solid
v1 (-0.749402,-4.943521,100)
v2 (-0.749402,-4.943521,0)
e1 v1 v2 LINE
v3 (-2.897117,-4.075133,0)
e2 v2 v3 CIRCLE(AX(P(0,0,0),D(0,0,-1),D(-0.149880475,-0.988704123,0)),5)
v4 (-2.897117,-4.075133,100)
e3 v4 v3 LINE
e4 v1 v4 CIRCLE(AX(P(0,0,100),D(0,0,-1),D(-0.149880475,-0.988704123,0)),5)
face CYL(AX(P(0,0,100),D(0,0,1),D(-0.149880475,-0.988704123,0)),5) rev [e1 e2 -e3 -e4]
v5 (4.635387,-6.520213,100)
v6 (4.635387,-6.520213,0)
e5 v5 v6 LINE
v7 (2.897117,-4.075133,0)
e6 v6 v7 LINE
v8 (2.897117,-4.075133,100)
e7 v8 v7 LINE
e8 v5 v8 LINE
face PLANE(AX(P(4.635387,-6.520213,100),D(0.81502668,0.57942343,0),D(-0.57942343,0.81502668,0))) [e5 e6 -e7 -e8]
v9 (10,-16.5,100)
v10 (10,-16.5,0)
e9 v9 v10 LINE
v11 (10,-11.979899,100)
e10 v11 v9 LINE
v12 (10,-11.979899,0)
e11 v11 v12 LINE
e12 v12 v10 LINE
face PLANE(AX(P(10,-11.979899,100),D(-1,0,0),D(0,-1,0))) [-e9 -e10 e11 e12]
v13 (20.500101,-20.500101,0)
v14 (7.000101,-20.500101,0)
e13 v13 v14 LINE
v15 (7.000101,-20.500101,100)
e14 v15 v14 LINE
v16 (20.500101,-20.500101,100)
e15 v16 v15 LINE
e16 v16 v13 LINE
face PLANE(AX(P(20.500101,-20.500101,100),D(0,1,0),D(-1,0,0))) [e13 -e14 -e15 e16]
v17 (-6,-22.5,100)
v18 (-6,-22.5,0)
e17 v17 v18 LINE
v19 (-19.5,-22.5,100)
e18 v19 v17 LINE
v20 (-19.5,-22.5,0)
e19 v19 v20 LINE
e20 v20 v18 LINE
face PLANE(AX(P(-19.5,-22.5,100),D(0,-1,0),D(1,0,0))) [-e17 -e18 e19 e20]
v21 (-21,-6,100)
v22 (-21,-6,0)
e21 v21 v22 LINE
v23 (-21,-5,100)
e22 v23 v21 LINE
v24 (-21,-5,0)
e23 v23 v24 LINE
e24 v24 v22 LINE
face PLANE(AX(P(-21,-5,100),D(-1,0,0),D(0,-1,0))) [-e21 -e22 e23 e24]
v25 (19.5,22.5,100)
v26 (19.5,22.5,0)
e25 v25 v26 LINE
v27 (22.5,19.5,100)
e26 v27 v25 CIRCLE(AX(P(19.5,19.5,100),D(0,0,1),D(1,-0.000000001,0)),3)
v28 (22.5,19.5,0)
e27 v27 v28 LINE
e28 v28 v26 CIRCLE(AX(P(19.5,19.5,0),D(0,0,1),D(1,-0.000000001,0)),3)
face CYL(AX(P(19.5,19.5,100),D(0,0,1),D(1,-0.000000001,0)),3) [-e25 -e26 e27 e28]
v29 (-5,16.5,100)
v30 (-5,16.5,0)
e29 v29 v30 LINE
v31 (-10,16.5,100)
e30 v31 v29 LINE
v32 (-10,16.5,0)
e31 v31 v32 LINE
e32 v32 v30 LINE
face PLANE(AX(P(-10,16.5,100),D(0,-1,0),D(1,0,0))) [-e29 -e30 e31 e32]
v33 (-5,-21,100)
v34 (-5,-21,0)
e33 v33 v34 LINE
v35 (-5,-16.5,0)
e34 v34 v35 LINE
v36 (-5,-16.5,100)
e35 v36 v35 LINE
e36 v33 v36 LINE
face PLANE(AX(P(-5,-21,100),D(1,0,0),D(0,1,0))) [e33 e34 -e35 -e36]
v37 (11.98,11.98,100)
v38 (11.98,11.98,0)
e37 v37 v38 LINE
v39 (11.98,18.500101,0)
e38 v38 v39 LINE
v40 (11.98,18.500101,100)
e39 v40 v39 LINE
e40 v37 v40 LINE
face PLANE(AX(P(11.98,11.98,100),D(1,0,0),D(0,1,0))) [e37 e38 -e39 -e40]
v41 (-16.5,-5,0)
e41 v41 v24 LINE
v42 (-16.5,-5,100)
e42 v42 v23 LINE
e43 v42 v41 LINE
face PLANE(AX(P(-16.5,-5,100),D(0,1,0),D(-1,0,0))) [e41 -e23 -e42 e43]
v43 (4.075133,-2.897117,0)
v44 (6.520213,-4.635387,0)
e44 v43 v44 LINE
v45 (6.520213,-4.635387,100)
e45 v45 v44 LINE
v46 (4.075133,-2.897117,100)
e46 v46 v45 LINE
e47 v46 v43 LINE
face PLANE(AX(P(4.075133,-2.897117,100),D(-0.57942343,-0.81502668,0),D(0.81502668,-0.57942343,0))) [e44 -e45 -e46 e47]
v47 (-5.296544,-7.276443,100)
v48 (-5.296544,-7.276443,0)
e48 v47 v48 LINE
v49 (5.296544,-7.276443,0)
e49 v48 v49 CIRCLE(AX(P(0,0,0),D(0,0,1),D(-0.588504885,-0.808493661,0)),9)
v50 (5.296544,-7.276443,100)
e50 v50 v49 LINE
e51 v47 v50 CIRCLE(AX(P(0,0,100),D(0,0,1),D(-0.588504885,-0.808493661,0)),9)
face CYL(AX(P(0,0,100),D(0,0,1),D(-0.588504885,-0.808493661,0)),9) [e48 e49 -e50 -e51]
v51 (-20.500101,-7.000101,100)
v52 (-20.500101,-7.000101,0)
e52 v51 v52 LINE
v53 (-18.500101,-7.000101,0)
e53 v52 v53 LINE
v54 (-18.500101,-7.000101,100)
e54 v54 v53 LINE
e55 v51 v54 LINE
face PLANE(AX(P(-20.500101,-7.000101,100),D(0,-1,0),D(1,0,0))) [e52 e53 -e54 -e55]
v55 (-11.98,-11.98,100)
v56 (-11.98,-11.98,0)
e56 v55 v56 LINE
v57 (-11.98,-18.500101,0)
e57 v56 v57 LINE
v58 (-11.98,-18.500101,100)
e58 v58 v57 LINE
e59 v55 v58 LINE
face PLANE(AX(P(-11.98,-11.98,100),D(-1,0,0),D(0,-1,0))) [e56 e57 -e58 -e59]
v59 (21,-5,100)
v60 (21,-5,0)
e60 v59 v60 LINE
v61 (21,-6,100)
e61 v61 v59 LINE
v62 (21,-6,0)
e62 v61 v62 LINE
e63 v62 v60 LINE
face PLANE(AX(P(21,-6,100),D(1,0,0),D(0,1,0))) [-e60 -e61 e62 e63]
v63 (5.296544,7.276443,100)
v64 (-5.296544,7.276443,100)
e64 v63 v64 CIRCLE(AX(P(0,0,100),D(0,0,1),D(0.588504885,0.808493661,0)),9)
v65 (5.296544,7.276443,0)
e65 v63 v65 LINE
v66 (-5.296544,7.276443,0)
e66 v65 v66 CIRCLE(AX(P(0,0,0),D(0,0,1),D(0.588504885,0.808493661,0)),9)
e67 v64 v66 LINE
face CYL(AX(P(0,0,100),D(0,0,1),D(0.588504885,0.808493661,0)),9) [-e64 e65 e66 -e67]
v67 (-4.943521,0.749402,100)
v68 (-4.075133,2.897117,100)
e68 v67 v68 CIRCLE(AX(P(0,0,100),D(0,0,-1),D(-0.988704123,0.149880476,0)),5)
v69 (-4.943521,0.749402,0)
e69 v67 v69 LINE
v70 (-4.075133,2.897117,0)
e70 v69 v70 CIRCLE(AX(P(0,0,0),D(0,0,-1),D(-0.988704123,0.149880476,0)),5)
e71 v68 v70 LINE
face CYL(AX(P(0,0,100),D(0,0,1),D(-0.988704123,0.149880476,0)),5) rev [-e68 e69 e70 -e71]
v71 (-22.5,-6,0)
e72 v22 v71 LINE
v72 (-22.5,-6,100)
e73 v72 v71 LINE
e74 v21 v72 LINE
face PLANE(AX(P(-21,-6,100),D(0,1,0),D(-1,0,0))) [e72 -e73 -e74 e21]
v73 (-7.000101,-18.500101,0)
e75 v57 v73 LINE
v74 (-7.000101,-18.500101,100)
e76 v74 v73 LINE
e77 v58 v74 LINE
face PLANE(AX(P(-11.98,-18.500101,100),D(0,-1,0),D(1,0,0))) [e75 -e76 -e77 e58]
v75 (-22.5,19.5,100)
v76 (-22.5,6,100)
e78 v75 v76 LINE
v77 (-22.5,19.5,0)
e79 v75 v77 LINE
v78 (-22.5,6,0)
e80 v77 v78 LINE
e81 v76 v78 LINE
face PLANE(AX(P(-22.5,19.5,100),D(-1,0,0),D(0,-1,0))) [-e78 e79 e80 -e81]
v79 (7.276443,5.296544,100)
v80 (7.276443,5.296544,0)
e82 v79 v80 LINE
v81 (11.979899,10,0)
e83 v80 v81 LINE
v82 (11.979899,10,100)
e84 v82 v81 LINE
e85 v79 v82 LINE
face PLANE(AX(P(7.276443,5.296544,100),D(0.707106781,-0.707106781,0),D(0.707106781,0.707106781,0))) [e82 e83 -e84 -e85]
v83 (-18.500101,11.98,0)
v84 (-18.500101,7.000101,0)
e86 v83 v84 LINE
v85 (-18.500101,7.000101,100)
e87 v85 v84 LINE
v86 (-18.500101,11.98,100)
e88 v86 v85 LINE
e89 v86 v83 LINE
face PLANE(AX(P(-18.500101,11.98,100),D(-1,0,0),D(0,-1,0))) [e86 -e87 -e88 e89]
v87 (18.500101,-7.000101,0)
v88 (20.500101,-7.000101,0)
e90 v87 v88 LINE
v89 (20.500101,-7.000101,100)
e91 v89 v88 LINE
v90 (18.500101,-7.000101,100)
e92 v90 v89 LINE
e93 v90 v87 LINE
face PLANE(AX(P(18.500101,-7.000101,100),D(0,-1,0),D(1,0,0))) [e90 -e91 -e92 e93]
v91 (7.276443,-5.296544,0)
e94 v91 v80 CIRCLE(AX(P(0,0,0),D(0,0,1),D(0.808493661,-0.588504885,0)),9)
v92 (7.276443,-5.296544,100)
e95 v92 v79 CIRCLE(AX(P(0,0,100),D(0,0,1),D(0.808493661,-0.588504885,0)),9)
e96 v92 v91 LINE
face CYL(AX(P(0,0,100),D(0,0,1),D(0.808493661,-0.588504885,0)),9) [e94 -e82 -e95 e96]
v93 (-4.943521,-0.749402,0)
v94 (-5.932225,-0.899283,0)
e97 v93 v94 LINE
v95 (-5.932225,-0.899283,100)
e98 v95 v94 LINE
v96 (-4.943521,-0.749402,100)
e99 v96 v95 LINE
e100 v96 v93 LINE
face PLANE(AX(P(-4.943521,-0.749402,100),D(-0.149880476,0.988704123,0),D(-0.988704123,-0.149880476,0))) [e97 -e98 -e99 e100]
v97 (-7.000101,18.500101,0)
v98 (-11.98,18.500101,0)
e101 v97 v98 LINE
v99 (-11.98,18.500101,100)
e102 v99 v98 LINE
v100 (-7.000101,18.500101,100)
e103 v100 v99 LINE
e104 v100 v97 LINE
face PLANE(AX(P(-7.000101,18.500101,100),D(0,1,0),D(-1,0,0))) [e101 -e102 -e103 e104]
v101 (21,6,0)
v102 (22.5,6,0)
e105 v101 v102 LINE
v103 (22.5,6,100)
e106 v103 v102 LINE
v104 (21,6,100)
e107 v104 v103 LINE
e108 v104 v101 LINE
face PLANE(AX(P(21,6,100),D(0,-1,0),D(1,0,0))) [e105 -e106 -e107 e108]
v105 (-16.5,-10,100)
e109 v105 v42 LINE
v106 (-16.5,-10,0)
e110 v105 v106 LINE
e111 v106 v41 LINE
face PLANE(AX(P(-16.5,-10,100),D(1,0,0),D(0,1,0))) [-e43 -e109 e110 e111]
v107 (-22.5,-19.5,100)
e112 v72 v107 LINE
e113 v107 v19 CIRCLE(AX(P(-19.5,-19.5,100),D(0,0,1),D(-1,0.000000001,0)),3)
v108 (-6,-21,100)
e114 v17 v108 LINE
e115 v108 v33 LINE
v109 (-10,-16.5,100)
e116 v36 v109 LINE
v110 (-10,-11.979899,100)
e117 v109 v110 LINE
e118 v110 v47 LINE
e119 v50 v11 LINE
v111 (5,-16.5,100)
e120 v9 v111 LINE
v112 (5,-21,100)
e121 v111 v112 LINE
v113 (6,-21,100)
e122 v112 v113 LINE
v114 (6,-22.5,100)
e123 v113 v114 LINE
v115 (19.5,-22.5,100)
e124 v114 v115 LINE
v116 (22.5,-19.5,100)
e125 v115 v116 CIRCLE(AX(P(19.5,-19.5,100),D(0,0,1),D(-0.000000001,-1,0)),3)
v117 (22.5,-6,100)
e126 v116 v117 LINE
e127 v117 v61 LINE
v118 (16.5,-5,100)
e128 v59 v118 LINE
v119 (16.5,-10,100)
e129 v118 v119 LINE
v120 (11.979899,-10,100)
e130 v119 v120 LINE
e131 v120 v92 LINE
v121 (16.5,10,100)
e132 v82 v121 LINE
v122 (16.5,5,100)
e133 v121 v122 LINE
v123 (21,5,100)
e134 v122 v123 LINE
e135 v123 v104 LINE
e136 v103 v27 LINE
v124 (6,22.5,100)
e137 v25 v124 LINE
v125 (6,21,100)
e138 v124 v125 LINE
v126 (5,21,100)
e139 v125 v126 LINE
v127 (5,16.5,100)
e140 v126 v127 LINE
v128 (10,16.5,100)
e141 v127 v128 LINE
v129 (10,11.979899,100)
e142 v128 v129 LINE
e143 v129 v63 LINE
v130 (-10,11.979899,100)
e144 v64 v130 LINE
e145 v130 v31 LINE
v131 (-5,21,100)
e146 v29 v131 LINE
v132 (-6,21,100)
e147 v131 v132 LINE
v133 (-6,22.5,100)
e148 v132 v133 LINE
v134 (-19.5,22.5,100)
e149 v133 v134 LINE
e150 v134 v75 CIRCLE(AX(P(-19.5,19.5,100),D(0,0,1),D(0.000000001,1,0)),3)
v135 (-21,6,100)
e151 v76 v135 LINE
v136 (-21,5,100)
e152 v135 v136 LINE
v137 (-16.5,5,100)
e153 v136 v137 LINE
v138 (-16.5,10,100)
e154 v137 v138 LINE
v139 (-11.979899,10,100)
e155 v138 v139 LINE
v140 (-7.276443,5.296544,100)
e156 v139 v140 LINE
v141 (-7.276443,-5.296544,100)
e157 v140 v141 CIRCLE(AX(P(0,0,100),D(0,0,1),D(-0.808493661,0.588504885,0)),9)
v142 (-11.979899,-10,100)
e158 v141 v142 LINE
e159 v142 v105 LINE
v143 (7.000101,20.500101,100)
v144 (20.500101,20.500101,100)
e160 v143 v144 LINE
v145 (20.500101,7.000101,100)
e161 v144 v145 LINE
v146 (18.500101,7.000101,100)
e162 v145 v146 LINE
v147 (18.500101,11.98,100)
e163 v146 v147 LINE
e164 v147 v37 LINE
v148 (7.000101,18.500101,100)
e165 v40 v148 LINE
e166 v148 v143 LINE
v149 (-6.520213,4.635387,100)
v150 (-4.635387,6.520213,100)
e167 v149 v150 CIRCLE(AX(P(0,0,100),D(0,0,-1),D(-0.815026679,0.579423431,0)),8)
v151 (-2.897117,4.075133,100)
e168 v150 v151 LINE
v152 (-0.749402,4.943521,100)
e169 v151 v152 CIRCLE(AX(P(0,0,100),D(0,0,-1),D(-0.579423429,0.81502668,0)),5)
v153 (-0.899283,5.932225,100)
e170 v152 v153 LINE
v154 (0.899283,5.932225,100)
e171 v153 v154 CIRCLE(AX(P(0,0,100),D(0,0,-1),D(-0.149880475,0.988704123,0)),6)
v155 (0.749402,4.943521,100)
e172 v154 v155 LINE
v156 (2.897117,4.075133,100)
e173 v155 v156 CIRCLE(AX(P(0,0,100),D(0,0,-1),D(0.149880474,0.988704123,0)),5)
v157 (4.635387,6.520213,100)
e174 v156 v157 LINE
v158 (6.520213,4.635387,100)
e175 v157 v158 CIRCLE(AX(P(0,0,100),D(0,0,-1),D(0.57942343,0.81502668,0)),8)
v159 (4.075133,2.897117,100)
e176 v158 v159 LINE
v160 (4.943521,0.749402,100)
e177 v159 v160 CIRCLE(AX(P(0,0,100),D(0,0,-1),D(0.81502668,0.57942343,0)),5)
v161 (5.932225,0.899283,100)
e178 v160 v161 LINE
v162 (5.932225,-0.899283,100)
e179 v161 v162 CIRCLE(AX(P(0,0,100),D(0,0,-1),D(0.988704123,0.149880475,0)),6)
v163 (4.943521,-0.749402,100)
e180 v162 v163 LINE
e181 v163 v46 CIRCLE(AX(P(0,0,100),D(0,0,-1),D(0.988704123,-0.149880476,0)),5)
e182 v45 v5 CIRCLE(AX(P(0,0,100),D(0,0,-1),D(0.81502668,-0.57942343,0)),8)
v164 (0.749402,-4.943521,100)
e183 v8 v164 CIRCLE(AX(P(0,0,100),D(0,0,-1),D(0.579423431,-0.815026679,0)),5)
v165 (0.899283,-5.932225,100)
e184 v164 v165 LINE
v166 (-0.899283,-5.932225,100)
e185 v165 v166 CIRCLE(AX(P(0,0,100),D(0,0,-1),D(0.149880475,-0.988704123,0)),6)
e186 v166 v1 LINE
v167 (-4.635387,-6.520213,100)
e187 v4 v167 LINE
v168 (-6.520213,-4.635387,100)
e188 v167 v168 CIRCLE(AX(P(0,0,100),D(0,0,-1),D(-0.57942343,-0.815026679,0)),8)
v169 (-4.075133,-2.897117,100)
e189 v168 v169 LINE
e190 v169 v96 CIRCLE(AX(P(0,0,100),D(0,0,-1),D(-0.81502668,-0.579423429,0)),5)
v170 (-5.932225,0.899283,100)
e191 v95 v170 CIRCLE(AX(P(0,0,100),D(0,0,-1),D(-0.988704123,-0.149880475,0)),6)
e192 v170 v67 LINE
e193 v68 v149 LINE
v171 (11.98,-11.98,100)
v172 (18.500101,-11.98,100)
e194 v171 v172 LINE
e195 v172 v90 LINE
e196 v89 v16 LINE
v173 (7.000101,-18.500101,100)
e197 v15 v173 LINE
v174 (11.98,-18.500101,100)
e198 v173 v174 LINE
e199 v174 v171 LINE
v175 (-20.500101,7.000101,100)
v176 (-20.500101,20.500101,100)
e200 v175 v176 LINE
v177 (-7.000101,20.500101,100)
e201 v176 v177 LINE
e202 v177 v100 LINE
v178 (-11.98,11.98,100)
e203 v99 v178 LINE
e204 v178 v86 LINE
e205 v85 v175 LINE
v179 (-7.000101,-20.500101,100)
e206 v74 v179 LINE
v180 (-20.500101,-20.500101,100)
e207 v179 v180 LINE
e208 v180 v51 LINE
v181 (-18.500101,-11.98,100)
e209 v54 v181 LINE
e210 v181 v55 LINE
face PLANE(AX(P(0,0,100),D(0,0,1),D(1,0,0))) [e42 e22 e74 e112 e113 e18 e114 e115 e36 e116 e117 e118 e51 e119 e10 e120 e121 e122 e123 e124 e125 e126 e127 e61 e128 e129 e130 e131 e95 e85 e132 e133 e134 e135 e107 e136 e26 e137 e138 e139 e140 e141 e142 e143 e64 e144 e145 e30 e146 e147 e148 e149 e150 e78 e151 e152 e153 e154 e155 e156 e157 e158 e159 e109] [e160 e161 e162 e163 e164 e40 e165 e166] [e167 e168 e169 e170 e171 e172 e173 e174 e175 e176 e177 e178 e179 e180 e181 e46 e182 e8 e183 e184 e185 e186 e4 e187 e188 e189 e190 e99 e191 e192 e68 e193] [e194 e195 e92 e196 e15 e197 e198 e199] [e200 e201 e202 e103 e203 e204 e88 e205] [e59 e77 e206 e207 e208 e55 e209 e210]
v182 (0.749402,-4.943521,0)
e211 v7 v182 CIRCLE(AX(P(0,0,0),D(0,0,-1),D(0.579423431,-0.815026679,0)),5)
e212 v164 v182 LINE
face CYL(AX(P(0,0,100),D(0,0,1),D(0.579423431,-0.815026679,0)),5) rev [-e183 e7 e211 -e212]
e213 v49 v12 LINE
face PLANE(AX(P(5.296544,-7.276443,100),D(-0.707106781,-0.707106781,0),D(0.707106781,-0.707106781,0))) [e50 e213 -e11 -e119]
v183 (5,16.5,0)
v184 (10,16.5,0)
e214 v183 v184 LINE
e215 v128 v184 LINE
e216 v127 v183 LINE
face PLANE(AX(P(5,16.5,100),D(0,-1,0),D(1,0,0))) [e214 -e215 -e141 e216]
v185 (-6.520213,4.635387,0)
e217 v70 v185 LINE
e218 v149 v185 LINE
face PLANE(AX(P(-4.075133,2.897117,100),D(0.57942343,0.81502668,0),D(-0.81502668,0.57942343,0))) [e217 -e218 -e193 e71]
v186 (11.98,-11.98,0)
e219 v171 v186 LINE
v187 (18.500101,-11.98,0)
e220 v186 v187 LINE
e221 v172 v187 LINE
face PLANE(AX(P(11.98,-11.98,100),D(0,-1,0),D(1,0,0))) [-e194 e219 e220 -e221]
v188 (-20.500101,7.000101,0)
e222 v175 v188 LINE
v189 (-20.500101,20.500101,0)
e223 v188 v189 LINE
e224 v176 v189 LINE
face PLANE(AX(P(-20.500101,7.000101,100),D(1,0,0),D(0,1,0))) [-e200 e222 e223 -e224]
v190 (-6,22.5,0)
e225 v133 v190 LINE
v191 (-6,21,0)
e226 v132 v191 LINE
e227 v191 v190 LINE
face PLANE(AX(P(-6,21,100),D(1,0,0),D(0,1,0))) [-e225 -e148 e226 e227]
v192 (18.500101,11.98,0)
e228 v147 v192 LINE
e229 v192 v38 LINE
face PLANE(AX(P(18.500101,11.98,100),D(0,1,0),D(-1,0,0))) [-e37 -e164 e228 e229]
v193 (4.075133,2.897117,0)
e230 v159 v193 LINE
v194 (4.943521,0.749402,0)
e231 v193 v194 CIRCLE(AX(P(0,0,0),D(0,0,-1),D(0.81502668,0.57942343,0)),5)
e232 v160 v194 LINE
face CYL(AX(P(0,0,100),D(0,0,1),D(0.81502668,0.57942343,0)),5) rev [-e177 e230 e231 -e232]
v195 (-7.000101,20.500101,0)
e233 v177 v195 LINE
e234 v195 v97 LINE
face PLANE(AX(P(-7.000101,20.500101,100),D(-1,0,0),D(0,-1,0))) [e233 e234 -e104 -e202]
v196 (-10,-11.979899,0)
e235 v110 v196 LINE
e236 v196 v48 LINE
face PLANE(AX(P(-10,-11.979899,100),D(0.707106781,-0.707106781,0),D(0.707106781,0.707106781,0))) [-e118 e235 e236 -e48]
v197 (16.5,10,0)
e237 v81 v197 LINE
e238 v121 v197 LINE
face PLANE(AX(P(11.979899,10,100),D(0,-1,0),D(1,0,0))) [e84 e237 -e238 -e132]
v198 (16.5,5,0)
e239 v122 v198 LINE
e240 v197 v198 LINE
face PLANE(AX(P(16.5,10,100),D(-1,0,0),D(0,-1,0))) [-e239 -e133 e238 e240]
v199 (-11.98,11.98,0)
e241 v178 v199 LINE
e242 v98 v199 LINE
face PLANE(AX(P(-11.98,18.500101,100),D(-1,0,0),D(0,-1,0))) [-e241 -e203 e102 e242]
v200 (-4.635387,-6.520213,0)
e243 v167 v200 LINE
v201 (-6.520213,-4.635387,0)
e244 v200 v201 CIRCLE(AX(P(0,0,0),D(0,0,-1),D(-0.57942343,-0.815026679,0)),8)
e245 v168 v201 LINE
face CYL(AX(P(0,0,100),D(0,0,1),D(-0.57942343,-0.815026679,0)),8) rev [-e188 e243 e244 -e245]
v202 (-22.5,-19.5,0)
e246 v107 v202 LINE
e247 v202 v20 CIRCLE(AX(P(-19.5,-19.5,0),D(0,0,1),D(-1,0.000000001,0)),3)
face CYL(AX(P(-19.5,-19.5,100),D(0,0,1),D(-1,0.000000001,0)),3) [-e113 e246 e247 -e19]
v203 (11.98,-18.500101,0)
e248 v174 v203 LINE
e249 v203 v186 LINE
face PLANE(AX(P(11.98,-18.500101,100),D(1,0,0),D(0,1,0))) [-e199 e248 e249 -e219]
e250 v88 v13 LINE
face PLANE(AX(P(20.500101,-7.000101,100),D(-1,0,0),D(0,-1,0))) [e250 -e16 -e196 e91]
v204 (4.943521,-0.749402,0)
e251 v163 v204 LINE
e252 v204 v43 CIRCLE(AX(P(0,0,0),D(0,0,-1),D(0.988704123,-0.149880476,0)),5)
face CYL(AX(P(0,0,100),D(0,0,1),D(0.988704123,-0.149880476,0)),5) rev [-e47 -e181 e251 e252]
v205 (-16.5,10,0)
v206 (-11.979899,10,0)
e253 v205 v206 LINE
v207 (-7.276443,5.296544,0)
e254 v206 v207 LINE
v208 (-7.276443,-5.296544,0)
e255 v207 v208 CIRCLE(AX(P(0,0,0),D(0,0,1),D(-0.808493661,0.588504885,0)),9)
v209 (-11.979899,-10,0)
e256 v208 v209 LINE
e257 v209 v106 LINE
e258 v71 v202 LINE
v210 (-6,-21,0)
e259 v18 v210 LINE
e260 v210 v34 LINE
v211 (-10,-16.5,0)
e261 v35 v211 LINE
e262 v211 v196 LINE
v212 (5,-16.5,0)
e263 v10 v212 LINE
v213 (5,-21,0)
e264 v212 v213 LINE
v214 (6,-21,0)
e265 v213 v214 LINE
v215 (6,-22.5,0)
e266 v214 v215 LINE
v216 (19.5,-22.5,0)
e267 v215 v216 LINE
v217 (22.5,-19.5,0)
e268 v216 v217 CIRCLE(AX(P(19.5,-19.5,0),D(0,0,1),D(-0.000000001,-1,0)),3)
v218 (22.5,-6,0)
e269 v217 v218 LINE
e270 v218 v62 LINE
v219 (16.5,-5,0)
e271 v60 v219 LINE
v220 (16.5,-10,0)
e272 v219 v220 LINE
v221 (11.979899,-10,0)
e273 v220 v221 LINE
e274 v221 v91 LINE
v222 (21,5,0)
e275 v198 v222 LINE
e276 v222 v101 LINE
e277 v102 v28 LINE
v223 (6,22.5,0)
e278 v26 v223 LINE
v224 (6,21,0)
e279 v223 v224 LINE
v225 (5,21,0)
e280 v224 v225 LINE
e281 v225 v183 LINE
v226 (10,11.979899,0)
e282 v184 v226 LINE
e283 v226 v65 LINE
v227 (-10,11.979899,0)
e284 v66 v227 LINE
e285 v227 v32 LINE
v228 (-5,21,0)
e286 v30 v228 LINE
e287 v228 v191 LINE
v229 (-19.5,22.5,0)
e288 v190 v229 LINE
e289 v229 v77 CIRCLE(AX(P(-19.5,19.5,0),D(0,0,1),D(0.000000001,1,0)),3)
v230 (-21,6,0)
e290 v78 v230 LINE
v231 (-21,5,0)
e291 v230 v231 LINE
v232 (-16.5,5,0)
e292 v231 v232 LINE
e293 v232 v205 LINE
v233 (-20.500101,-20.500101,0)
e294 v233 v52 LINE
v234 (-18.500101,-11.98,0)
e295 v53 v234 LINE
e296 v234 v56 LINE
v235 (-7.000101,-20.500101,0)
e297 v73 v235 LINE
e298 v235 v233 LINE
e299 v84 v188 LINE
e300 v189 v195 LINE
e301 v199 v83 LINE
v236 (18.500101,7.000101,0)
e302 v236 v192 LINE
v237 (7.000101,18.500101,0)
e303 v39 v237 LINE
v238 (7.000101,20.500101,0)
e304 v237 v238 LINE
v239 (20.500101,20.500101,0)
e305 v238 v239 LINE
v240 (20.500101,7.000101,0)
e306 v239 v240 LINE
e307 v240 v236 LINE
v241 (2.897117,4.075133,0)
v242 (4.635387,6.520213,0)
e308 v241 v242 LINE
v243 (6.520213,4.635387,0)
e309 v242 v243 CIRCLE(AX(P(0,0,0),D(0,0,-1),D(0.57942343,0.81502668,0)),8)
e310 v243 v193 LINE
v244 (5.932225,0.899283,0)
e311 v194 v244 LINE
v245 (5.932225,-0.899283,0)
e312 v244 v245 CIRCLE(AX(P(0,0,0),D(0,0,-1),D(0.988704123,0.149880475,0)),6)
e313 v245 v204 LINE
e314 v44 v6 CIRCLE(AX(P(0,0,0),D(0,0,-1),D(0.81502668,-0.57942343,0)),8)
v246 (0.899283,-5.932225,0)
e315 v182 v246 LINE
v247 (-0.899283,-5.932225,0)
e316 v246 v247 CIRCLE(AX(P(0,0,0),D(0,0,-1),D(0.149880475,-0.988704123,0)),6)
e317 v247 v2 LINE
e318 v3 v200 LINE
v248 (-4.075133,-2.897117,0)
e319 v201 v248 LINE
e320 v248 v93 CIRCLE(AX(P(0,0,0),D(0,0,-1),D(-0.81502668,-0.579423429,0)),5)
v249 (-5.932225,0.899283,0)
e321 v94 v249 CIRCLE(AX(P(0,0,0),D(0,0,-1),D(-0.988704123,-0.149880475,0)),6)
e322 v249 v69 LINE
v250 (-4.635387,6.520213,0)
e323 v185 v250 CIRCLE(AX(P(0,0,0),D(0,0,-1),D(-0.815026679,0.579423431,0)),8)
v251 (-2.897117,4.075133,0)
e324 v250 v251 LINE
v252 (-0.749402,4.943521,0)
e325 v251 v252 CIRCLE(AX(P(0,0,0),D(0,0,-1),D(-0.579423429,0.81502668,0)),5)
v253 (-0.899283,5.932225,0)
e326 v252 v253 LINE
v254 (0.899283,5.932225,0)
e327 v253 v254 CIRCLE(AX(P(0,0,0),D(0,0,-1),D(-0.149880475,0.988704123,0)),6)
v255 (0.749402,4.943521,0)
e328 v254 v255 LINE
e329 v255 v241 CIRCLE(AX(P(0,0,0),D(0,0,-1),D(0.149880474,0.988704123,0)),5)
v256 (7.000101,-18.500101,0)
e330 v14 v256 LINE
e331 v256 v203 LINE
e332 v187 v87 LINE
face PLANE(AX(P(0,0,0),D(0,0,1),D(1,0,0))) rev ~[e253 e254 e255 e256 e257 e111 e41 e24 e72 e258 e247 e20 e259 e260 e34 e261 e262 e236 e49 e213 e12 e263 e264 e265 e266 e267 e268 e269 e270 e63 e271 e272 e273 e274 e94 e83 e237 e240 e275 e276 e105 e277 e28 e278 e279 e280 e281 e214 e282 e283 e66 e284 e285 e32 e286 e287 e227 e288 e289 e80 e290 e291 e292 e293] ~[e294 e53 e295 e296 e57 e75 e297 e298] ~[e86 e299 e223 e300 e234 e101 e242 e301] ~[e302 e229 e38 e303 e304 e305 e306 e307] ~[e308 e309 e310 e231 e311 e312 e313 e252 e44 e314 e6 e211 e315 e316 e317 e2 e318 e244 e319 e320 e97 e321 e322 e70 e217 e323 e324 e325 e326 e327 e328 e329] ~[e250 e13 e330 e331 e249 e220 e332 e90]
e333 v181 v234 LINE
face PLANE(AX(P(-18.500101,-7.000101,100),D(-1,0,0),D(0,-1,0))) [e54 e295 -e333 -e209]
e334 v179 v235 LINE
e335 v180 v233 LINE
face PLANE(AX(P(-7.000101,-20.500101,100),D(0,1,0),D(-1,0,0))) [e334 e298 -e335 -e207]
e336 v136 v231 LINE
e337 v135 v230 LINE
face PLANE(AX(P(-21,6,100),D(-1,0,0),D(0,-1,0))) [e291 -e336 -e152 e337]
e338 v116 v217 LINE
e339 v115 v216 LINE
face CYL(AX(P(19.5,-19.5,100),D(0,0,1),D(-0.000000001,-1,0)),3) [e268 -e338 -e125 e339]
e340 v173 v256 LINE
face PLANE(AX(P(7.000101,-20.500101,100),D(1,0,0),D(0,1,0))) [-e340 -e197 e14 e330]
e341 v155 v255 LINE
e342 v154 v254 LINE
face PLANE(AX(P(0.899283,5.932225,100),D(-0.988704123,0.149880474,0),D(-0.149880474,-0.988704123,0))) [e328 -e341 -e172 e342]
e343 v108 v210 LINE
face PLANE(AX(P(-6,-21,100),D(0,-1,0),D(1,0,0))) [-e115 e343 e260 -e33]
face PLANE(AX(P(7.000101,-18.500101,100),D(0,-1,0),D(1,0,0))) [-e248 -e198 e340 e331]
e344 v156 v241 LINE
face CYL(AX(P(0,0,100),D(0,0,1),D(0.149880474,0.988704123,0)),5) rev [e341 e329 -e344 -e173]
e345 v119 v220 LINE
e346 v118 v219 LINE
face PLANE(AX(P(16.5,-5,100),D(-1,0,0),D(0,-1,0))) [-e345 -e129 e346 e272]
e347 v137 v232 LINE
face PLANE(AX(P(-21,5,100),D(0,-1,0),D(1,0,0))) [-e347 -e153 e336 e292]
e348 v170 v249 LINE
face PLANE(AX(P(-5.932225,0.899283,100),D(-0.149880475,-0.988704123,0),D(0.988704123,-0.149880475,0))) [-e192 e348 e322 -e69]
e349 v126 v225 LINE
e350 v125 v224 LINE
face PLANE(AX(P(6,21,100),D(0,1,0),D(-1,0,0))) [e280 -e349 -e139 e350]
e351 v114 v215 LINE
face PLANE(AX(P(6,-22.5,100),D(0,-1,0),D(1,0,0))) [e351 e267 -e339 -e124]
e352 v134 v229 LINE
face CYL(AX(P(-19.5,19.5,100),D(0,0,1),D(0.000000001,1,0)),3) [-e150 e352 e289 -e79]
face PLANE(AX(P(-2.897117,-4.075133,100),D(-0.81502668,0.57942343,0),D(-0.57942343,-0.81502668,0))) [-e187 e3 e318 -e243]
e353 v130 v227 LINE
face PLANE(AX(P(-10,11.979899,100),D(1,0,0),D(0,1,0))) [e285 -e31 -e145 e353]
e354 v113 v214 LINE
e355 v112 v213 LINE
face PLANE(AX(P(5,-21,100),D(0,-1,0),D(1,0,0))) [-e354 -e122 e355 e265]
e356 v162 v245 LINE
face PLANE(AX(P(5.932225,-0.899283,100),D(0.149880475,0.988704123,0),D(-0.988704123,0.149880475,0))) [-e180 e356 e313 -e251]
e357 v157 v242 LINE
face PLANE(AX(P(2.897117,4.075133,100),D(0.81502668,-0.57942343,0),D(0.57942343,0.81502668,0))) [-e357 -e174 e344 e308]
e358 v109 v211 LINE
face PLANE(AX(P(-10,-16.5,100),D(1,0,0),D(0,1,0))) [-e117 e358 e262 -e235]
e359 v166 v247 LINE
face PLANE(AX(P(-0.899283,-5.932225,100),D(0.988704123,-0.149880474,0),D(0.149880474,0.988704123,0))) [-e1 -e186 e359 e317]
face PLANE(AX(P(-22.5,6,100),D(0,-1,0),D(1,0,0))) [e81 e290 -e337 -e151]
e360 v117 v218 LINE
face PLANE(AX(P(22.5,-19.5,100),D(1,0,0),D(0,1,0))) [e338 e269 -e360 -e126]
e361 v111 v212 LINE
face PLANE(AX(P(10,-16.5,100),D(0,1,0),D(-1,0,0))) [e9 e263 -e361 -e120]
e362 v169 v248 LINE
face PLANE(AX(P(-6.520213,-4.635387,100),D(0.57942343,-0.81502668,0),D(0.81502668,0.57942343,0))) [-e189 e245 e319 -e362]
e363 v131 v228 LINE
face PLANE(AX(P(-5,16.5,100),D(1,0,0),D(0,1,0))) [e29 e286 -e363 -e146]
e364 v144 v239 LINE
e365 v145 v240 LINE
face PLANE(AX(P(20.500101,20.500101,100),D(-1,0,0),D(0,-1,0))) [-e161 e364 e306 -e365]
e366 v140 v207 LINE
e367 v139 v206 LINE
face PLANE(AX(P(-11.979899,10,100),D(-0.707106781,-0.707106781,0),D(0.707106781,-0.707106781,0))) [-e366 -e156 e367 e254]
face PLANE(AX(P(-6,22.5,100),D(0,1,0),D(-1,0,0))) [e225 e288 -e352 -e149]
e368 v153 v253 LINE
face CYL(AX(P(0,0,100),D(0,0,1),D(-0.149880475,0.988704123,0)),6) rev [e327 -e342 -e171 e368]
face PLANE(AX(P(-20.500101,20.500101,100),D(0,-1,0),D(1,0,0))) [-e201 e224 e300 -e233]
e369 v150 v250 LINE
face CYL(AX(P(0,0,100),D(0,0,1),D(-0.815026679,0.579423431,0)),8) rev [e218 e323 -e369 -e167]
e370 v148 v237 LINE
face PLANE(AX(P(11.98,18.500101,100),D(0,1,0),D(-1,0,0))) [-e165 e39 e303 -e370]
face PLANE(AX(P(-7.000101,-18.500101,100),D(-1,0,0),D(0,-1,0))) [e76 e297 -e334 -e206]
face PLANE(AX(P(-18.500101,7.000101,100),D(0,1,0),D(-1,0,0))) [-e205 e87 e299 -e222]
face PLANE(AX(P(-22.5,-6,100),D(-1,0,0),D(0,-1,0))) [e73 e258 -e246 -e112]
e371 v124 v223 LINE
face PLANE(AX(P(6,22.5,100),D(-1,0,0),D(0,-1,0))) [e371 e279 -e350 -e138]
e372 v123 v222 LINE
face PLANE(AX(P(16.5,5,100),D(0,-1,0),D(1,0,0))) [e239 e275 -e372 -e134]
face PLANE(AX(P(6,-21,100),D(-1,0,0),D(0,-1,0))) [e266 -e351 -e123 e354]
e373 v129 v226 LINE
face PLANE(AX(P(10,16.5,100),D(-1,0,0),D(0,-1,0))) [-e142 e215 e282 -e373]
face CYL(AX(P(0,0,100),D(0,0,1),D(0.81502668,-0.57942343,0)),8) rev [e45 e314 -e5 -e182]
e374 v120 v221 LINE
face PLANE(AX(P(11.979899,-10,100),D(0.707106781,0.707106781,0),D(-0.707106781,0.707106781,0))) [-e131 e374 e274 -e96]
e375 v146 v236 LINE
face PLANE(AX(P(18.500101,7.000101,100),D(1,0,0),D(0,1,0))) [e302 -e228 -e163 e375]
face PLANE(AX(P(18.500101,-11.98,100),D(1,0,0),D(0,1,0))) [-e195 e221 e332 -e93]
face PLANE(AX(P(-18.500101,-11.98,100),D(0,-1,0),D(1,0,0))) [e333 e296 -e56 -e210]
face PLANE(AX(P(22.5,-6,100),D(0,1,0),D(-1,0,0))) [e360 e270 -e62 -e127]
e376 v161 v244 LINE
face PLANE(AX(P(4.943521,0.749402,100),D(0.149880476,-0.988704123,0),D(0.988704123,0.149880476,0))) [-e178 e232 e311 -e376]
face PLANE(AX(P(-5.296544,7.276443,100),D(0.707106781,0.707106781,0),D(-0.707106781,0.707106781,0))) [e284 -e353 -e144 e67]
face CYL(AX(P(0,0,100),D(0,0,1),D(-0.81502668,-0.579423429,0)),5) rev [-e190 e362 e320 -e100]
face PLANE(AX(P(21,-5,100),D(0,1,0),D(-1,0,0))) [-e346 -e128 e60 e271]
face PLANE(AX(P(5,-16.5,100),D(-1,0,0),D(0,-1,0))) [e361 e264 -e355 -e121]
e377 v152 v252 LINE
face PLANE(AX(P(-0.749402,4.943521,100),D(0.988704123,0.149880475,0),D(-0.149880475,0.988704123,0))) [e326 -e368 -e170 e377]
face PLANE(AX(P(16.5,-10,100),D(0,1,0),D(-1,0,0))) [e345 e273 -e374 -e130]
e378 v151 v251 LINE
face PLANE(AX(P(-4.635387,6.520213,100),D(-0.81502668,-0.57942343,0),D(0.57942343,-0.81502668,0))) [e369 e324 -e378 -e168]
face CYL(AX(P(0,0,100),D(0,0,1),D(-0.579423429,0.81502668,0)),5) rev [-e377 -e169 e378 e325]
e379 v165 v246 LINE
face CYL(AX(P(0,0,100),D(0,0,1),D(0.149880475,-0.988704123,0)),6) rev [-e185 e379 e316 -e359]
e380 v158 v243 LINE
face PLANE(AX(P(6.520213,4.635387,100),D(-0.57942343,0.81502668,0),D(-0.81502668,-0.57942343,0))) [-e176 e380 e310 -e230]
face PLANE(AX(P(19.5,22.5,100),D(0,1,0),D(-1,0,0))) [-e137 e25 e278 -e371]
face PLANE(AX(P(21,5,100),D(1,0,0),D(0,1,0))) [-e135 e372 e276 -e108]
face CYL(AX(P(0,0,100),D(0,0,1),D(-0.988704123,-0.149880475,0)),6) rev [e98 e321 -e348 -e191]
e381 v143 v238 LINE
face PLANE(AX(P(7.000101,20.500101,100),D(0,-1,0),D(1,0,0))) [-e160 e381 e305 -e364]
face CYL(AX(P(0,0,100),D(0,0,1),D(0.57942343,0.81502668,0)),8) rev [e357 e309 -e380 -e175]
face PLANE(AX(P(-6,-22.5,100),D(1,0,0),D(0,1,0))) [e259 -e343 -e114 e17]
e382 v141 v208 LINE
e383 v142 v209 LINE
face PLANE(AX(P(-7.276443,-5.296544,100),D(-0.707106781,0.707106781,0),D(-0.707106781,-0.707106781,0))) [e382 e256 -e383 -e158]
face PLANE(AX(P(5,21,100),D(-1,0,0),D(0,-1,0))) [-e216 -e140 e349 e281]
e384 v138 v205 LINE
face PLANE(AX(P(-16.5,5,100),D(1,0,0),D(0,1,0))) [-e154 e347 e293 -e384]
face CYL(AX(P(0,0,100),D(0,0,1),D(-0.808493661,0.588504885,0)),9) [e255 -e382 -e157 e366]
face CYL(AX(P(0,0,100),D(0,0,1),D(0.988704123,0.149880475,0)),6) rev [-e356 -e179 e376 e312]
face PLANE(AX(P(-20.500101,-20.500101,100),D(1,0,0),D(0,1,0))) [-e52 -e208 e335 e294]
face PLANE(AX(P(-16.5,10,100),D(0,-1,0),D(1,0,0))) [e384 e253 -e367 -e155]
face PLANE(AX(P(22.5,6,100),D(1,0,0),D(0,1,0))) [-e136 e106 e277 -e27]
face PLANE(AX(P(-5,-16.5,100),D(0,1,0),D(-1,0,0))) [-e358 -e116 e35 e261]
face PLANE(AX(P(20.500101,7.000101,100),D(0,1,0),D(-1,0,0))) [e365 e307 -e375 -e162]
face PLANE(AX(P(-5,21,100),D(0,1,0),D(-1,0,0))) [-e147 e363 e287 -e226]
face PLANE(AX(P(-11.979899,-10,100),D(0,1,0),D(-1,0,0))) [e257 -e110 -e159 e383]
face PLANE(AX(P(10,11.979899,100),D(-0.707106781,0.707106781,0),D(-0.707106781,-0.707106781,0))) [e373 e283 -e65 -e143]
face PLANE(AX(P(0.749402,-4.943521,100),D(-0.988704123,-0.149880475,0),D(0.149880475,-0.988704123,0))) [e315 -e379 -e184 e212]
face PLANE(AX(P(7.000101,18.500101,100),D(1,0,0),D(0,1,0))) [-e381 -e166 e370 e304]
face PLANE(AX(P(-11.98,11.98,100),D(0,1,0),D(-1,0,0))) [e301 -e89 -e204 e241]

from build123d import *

# Parameters (mm, degrees)
Y_KSEKLIK_EKSTR_ZYON1_DEPTH = 100


with BuildPart() as part:
    # Çizim1 → Yükseklik-Ekstrüzyon1 (new body)
    with BuildSketch(Plane.XY.offset(100)):
        with BuildLine():
            Line((5, -21), (6, -21))
            Line((6, -21), (6, -22.5))
            Line((6, -22.5), (19.5, -22.5))
            ThreePointArc((19.5, -22.5), (21.621320344, -21.621320344), (22.5, -19.5))
            Line((22.5, -19.5), (22.5, -6))
            Line((22.5, -6), (21, -6))
            Line((21, -6), (21, -5))
            Line((21, -5), (16.499999999, -5))
            Line((16.499999999, -5), (16.499999999, -10.000000002))
            Line((16.499999999, -10.000000002), (11.979898986, -10.000000002))
            Line((11.979898986, -10.000000002), (7.27644295, -5.296543966))
            ThreePointArc((7.27644295, -5.296543966), (8.999999998, -2e-09), (7.27644295, 5.296543963))
            Line((7.27644295, 5.296543963), (11.979898987, 10))
            Line((11.979898987, 10), (16.499999999, 10))
            Line((16.499999999, 10), (16.499999999, 5))
            Line((16.499999999, 5), (21, 5))
            Line((21, 5), (21, 6))
            Line((21, 6), (22.5, 6))
            Line((22.5, 6), (22.5, 19.5))
            ThreePointArc((22.5, 19.5), (21.621320344, 21.621320344), (19.5, 22.5))
            Line((19.5, 22.5), (6, 22.5))
            Line((6, 22.5), (6, 21))
            Line((6, 21), (5, 21))
            Line((5, 21), (5, 16.499999998))
            Line((5, 16.499999998), (10, 16.499999998))
            Line((10, 16.499999998), (10, 11.979898987))
            Line((10, 11.979898987), (5.296543963, 7.27644295))
            ThreePointArc((5.296543963, 7.27644295), (-2e-09, 8.999999998), (-5.296543966, 7.27644295))
            Line((-5.296543966, 7.27644295), (-10.000000001, 11.979898985))
            Line((-10.000000001, 11.979898985), (-10.000000001, 16.499999998))
            Line((-10.000000001, 16.499999998), (-5, 16.499999998))
            Line((-5, 16.499999998), (-5, 21))
            Line((-5, 21), (-6, 21))
            Line((-6, 21), (-6, 22.5))
            Line((-6, 22.5), (-19.5, 22.5))
            ThreePointArc((-19.5, 22.5), (-21.621320344, 21.621320344), (-22.5, 19.5))
            Line((-22.5, 19.5), (-22.5, 6))
            Line((-22.5, 6), (-21, 6))
            Line((-21, 6), (-21, 5))
            Line((-21, 5), (-16.500000001, 5))
            Line((-16.500000001, 5), (-16.500000001, 10))
            Line((-16.500000001, 10), (-11.979898987, 10))
            Line((-11.979898987, 10), (-7.276442952, 5.296543965))
            ThreePointArc((-7.276442952, 5.296543965), (-9.000000001, -1e-09), (-7.276442953, -5.296543966))
            Line((-7.276442953, -5.296543966), (-11.979898988, -10.000000002))
            Line((-11.979898988, -10.000000002), (-16.500000001, -10.000000002))
            Line((-16.500000001, -10.000000002), (-16.500000001, -5))
            Line((-16.500000001, -5), (-21, -5))
            Line((-21, -5), (-21, -6))
            Line((-21, -6), (-22.5, -6))
            Line((-22.5, -6), (-22.5, -19.5))
            ThreePointArc((-22.5, -19.5), (-21.621320344, -21.621320344), (-19.5, -22.5))
            Line((-19.5, -22.5), (-6, -22.5))
            Line((-6, -22.5), (-6, -21))
            Line((-6, -21), (-5, -21))
            Line((-5, -21), (-5, -16.500000002))
            Line((-5, -16.500000002), (-10.000000001, -16.500000002))
            Line((-10.000000001, -16.500000002), (-10.000000001, -11.979898989))
            Line((-10.000000001, -11.979898989), (-5.296543966, -7.276442954))
            ThreePointArc((-5.296543966, -7.276442954), (0, -9.000000002), (5.296543965, -7.276442952))
            Line((5.296543965, -7.276442952), (10, -11.979898987))
            Line((10, -11.979898987), (10, -16.500000002))
            Line((10, -16.500000002), (5, -16.500000002))
            Line((5, -16.500000002), (5, -21))
        make_face()
        Polygon((-11.98, 18.500101013), (-11.98, 11.98), (-18.500101013, 11.98), (-18.500101013, 7.000101013), (-20.500101013, 7.000101013), (-20.500101013, 20.500101013), (-7.000101013, 20.500101013), (-7.000101013, 18.500101013), align=None, mode=Mode.SUBTRACT)
        Polygon((-18.500101013, -11.98), (-11.98, -11.98), (-11.98, -18.500101013), (-7.000101013, -18.500101013), (-7.000101013, -20.500101013), (-20.500101013, -20.500101013), (-20.500101013, -7.000101013), (-18.500101013, -7.000101013), align=None, mode=Mode.SUBTRACT)
        Polygon((11.98, -18.500101013), (11.98, -11.98), (18.500101013, -11.98), (18.500101013, -7.000101013), (20.500101013, -7.000101013), (20.500101013, -20.500101013), (7.000101013, -20.500101013), (7.000101013, -18.500101013), align=None, mode=Mode.SUBTRACT)
        Polygon((18.500101013, 11.98), (11.98, 11.98), (11.98, 18.500101013), (7.000101013, 18.500101013), (7.000101013, 20.500101013), (20.500101013, 20.500101013), (20.500101013, 7.000101013), (18.500101013, 7.000101013), align=None, mode=Mode.SUBTRACT)
        with BuildLine():
            Line((-6.52021344, -4.635387443), (-4.075133401, -2.897117152))
            ThreePointArc((-4.075133401, -2.897117152), (-4.635428757, -1.874246585), (-4.943520618, -0.749402378))
            Line((-4.943520618, -0.749402378), (-5.932224741, -0.899282854))
            ThreePointArc((-5.932224741, -0.899282854), (-6.000000002, -2e-09), (-5.932224741, 0.89928285))
            Line((-5.932224741, 0.89928285), (-4.943520618, 0.749402375))
            ThreePointArc((-4.943520618, 0.749402375), (-4.635428757, 1.874246582), (-4.0751334, 2.89711715))
            Line((-4.0751334, 2.89711715), (-6.520213439, 4.635387441))
            ThreePointArc((-6.520213439, 4.635387441), (-5.65685425, 5.656854249), (-4.635387441, 6.520213437))
            Line((-4.635387441, 6.520213437), (-2.897117152, 4.075133398))
            ThreePointArc((-2.897117152, 4.075133398), (-1.874246584, 4.635428754), (-0.749402378, 4.943520614))
            Line((-0.749402378, 4.943520614), (-0.899282853, 5.932224737))
            ThreePointArc((-0.899282853, 5.932224737), (-5e-09, 5.999999998), (0.899282844, 5.932224738))
            Line((0.899282844, 5.932224738), (0.74940237, 4.943520615))
            ThreePointArc((0.74940237, 4.943520615), (1.874246579, 4.635428755), (2.897117149, 4.075133397))
            Line((2.897117149, 4.075133397), (4.635387439, 6.520213436))
            ThreePointArc((4.635387439, 6.520213436), (5.656854248, 5.656854248), (6.520213436, 4.635387439))
            Line((6.520213436, 4.635387439), (4.075133397, 2.897117149))
            ThreePointArc((4.075133397, 2.897117149), (4.635428754, 1.874246581), (4.943520614, 0.749402374))
            Line((4.943520614, 0.749402374), (5.932224737, 0.89928285))
            ThreePointArc((5.932224737, 0.89928285), (5.999999998, -2e-09), (5.932224737, -0.899282854))
            Line((5.932224737, -0.899282854), (4.943520614, -0.749402379))
            ThreePointArc((4.943520614, -0.749402379), (4.635428753, -1.874246586), (4.075133396, -2.897117154))
            Line((4.075133396, -2.897117154), (6.520213435, -4.635387445))
            ThreePointArc((6.520213435, -4.635387445), (5.656854247, -5.656854253), (4.635387438, -6.520213441))
            Line((4.635387438, -6.520213441), (2.897117148, -4.075133401))
            ThreePointArc((2.897117148, -4.075133401), (1.874246581, -4.635428758), (0.749402374, -4.943520618))
            Line((0.749402374, -4.943520618), (0.899282849, -5.932224741))
            ThreePointArc((0.899282849, -5.932224741), (1e-09, -6.000000002), (-0.899282847, -5.932224742))
            Line((-0.899282847, -5.932224742), (-0.749402373, -4.943520619))
            ThreePointArc((-0.749402373, -4.943520619), (-1.874246583, -4.635428758), (-2.897117153, -4.075133401))
            Line((-2.897117153, -4.075133401), (-4.635387443, -6.52021344))
            ThreePointArc((-4.635387443, -6.52021344), (-5.656854252, -5.656854251), (-6.52021344, -4.635387443))
        make_face(mode=Mode.SUBTRACT)
    extrude(amount=-Y_KSEKLIK_EKSTR_ZYON1_DEPTH)


solid = part.part
